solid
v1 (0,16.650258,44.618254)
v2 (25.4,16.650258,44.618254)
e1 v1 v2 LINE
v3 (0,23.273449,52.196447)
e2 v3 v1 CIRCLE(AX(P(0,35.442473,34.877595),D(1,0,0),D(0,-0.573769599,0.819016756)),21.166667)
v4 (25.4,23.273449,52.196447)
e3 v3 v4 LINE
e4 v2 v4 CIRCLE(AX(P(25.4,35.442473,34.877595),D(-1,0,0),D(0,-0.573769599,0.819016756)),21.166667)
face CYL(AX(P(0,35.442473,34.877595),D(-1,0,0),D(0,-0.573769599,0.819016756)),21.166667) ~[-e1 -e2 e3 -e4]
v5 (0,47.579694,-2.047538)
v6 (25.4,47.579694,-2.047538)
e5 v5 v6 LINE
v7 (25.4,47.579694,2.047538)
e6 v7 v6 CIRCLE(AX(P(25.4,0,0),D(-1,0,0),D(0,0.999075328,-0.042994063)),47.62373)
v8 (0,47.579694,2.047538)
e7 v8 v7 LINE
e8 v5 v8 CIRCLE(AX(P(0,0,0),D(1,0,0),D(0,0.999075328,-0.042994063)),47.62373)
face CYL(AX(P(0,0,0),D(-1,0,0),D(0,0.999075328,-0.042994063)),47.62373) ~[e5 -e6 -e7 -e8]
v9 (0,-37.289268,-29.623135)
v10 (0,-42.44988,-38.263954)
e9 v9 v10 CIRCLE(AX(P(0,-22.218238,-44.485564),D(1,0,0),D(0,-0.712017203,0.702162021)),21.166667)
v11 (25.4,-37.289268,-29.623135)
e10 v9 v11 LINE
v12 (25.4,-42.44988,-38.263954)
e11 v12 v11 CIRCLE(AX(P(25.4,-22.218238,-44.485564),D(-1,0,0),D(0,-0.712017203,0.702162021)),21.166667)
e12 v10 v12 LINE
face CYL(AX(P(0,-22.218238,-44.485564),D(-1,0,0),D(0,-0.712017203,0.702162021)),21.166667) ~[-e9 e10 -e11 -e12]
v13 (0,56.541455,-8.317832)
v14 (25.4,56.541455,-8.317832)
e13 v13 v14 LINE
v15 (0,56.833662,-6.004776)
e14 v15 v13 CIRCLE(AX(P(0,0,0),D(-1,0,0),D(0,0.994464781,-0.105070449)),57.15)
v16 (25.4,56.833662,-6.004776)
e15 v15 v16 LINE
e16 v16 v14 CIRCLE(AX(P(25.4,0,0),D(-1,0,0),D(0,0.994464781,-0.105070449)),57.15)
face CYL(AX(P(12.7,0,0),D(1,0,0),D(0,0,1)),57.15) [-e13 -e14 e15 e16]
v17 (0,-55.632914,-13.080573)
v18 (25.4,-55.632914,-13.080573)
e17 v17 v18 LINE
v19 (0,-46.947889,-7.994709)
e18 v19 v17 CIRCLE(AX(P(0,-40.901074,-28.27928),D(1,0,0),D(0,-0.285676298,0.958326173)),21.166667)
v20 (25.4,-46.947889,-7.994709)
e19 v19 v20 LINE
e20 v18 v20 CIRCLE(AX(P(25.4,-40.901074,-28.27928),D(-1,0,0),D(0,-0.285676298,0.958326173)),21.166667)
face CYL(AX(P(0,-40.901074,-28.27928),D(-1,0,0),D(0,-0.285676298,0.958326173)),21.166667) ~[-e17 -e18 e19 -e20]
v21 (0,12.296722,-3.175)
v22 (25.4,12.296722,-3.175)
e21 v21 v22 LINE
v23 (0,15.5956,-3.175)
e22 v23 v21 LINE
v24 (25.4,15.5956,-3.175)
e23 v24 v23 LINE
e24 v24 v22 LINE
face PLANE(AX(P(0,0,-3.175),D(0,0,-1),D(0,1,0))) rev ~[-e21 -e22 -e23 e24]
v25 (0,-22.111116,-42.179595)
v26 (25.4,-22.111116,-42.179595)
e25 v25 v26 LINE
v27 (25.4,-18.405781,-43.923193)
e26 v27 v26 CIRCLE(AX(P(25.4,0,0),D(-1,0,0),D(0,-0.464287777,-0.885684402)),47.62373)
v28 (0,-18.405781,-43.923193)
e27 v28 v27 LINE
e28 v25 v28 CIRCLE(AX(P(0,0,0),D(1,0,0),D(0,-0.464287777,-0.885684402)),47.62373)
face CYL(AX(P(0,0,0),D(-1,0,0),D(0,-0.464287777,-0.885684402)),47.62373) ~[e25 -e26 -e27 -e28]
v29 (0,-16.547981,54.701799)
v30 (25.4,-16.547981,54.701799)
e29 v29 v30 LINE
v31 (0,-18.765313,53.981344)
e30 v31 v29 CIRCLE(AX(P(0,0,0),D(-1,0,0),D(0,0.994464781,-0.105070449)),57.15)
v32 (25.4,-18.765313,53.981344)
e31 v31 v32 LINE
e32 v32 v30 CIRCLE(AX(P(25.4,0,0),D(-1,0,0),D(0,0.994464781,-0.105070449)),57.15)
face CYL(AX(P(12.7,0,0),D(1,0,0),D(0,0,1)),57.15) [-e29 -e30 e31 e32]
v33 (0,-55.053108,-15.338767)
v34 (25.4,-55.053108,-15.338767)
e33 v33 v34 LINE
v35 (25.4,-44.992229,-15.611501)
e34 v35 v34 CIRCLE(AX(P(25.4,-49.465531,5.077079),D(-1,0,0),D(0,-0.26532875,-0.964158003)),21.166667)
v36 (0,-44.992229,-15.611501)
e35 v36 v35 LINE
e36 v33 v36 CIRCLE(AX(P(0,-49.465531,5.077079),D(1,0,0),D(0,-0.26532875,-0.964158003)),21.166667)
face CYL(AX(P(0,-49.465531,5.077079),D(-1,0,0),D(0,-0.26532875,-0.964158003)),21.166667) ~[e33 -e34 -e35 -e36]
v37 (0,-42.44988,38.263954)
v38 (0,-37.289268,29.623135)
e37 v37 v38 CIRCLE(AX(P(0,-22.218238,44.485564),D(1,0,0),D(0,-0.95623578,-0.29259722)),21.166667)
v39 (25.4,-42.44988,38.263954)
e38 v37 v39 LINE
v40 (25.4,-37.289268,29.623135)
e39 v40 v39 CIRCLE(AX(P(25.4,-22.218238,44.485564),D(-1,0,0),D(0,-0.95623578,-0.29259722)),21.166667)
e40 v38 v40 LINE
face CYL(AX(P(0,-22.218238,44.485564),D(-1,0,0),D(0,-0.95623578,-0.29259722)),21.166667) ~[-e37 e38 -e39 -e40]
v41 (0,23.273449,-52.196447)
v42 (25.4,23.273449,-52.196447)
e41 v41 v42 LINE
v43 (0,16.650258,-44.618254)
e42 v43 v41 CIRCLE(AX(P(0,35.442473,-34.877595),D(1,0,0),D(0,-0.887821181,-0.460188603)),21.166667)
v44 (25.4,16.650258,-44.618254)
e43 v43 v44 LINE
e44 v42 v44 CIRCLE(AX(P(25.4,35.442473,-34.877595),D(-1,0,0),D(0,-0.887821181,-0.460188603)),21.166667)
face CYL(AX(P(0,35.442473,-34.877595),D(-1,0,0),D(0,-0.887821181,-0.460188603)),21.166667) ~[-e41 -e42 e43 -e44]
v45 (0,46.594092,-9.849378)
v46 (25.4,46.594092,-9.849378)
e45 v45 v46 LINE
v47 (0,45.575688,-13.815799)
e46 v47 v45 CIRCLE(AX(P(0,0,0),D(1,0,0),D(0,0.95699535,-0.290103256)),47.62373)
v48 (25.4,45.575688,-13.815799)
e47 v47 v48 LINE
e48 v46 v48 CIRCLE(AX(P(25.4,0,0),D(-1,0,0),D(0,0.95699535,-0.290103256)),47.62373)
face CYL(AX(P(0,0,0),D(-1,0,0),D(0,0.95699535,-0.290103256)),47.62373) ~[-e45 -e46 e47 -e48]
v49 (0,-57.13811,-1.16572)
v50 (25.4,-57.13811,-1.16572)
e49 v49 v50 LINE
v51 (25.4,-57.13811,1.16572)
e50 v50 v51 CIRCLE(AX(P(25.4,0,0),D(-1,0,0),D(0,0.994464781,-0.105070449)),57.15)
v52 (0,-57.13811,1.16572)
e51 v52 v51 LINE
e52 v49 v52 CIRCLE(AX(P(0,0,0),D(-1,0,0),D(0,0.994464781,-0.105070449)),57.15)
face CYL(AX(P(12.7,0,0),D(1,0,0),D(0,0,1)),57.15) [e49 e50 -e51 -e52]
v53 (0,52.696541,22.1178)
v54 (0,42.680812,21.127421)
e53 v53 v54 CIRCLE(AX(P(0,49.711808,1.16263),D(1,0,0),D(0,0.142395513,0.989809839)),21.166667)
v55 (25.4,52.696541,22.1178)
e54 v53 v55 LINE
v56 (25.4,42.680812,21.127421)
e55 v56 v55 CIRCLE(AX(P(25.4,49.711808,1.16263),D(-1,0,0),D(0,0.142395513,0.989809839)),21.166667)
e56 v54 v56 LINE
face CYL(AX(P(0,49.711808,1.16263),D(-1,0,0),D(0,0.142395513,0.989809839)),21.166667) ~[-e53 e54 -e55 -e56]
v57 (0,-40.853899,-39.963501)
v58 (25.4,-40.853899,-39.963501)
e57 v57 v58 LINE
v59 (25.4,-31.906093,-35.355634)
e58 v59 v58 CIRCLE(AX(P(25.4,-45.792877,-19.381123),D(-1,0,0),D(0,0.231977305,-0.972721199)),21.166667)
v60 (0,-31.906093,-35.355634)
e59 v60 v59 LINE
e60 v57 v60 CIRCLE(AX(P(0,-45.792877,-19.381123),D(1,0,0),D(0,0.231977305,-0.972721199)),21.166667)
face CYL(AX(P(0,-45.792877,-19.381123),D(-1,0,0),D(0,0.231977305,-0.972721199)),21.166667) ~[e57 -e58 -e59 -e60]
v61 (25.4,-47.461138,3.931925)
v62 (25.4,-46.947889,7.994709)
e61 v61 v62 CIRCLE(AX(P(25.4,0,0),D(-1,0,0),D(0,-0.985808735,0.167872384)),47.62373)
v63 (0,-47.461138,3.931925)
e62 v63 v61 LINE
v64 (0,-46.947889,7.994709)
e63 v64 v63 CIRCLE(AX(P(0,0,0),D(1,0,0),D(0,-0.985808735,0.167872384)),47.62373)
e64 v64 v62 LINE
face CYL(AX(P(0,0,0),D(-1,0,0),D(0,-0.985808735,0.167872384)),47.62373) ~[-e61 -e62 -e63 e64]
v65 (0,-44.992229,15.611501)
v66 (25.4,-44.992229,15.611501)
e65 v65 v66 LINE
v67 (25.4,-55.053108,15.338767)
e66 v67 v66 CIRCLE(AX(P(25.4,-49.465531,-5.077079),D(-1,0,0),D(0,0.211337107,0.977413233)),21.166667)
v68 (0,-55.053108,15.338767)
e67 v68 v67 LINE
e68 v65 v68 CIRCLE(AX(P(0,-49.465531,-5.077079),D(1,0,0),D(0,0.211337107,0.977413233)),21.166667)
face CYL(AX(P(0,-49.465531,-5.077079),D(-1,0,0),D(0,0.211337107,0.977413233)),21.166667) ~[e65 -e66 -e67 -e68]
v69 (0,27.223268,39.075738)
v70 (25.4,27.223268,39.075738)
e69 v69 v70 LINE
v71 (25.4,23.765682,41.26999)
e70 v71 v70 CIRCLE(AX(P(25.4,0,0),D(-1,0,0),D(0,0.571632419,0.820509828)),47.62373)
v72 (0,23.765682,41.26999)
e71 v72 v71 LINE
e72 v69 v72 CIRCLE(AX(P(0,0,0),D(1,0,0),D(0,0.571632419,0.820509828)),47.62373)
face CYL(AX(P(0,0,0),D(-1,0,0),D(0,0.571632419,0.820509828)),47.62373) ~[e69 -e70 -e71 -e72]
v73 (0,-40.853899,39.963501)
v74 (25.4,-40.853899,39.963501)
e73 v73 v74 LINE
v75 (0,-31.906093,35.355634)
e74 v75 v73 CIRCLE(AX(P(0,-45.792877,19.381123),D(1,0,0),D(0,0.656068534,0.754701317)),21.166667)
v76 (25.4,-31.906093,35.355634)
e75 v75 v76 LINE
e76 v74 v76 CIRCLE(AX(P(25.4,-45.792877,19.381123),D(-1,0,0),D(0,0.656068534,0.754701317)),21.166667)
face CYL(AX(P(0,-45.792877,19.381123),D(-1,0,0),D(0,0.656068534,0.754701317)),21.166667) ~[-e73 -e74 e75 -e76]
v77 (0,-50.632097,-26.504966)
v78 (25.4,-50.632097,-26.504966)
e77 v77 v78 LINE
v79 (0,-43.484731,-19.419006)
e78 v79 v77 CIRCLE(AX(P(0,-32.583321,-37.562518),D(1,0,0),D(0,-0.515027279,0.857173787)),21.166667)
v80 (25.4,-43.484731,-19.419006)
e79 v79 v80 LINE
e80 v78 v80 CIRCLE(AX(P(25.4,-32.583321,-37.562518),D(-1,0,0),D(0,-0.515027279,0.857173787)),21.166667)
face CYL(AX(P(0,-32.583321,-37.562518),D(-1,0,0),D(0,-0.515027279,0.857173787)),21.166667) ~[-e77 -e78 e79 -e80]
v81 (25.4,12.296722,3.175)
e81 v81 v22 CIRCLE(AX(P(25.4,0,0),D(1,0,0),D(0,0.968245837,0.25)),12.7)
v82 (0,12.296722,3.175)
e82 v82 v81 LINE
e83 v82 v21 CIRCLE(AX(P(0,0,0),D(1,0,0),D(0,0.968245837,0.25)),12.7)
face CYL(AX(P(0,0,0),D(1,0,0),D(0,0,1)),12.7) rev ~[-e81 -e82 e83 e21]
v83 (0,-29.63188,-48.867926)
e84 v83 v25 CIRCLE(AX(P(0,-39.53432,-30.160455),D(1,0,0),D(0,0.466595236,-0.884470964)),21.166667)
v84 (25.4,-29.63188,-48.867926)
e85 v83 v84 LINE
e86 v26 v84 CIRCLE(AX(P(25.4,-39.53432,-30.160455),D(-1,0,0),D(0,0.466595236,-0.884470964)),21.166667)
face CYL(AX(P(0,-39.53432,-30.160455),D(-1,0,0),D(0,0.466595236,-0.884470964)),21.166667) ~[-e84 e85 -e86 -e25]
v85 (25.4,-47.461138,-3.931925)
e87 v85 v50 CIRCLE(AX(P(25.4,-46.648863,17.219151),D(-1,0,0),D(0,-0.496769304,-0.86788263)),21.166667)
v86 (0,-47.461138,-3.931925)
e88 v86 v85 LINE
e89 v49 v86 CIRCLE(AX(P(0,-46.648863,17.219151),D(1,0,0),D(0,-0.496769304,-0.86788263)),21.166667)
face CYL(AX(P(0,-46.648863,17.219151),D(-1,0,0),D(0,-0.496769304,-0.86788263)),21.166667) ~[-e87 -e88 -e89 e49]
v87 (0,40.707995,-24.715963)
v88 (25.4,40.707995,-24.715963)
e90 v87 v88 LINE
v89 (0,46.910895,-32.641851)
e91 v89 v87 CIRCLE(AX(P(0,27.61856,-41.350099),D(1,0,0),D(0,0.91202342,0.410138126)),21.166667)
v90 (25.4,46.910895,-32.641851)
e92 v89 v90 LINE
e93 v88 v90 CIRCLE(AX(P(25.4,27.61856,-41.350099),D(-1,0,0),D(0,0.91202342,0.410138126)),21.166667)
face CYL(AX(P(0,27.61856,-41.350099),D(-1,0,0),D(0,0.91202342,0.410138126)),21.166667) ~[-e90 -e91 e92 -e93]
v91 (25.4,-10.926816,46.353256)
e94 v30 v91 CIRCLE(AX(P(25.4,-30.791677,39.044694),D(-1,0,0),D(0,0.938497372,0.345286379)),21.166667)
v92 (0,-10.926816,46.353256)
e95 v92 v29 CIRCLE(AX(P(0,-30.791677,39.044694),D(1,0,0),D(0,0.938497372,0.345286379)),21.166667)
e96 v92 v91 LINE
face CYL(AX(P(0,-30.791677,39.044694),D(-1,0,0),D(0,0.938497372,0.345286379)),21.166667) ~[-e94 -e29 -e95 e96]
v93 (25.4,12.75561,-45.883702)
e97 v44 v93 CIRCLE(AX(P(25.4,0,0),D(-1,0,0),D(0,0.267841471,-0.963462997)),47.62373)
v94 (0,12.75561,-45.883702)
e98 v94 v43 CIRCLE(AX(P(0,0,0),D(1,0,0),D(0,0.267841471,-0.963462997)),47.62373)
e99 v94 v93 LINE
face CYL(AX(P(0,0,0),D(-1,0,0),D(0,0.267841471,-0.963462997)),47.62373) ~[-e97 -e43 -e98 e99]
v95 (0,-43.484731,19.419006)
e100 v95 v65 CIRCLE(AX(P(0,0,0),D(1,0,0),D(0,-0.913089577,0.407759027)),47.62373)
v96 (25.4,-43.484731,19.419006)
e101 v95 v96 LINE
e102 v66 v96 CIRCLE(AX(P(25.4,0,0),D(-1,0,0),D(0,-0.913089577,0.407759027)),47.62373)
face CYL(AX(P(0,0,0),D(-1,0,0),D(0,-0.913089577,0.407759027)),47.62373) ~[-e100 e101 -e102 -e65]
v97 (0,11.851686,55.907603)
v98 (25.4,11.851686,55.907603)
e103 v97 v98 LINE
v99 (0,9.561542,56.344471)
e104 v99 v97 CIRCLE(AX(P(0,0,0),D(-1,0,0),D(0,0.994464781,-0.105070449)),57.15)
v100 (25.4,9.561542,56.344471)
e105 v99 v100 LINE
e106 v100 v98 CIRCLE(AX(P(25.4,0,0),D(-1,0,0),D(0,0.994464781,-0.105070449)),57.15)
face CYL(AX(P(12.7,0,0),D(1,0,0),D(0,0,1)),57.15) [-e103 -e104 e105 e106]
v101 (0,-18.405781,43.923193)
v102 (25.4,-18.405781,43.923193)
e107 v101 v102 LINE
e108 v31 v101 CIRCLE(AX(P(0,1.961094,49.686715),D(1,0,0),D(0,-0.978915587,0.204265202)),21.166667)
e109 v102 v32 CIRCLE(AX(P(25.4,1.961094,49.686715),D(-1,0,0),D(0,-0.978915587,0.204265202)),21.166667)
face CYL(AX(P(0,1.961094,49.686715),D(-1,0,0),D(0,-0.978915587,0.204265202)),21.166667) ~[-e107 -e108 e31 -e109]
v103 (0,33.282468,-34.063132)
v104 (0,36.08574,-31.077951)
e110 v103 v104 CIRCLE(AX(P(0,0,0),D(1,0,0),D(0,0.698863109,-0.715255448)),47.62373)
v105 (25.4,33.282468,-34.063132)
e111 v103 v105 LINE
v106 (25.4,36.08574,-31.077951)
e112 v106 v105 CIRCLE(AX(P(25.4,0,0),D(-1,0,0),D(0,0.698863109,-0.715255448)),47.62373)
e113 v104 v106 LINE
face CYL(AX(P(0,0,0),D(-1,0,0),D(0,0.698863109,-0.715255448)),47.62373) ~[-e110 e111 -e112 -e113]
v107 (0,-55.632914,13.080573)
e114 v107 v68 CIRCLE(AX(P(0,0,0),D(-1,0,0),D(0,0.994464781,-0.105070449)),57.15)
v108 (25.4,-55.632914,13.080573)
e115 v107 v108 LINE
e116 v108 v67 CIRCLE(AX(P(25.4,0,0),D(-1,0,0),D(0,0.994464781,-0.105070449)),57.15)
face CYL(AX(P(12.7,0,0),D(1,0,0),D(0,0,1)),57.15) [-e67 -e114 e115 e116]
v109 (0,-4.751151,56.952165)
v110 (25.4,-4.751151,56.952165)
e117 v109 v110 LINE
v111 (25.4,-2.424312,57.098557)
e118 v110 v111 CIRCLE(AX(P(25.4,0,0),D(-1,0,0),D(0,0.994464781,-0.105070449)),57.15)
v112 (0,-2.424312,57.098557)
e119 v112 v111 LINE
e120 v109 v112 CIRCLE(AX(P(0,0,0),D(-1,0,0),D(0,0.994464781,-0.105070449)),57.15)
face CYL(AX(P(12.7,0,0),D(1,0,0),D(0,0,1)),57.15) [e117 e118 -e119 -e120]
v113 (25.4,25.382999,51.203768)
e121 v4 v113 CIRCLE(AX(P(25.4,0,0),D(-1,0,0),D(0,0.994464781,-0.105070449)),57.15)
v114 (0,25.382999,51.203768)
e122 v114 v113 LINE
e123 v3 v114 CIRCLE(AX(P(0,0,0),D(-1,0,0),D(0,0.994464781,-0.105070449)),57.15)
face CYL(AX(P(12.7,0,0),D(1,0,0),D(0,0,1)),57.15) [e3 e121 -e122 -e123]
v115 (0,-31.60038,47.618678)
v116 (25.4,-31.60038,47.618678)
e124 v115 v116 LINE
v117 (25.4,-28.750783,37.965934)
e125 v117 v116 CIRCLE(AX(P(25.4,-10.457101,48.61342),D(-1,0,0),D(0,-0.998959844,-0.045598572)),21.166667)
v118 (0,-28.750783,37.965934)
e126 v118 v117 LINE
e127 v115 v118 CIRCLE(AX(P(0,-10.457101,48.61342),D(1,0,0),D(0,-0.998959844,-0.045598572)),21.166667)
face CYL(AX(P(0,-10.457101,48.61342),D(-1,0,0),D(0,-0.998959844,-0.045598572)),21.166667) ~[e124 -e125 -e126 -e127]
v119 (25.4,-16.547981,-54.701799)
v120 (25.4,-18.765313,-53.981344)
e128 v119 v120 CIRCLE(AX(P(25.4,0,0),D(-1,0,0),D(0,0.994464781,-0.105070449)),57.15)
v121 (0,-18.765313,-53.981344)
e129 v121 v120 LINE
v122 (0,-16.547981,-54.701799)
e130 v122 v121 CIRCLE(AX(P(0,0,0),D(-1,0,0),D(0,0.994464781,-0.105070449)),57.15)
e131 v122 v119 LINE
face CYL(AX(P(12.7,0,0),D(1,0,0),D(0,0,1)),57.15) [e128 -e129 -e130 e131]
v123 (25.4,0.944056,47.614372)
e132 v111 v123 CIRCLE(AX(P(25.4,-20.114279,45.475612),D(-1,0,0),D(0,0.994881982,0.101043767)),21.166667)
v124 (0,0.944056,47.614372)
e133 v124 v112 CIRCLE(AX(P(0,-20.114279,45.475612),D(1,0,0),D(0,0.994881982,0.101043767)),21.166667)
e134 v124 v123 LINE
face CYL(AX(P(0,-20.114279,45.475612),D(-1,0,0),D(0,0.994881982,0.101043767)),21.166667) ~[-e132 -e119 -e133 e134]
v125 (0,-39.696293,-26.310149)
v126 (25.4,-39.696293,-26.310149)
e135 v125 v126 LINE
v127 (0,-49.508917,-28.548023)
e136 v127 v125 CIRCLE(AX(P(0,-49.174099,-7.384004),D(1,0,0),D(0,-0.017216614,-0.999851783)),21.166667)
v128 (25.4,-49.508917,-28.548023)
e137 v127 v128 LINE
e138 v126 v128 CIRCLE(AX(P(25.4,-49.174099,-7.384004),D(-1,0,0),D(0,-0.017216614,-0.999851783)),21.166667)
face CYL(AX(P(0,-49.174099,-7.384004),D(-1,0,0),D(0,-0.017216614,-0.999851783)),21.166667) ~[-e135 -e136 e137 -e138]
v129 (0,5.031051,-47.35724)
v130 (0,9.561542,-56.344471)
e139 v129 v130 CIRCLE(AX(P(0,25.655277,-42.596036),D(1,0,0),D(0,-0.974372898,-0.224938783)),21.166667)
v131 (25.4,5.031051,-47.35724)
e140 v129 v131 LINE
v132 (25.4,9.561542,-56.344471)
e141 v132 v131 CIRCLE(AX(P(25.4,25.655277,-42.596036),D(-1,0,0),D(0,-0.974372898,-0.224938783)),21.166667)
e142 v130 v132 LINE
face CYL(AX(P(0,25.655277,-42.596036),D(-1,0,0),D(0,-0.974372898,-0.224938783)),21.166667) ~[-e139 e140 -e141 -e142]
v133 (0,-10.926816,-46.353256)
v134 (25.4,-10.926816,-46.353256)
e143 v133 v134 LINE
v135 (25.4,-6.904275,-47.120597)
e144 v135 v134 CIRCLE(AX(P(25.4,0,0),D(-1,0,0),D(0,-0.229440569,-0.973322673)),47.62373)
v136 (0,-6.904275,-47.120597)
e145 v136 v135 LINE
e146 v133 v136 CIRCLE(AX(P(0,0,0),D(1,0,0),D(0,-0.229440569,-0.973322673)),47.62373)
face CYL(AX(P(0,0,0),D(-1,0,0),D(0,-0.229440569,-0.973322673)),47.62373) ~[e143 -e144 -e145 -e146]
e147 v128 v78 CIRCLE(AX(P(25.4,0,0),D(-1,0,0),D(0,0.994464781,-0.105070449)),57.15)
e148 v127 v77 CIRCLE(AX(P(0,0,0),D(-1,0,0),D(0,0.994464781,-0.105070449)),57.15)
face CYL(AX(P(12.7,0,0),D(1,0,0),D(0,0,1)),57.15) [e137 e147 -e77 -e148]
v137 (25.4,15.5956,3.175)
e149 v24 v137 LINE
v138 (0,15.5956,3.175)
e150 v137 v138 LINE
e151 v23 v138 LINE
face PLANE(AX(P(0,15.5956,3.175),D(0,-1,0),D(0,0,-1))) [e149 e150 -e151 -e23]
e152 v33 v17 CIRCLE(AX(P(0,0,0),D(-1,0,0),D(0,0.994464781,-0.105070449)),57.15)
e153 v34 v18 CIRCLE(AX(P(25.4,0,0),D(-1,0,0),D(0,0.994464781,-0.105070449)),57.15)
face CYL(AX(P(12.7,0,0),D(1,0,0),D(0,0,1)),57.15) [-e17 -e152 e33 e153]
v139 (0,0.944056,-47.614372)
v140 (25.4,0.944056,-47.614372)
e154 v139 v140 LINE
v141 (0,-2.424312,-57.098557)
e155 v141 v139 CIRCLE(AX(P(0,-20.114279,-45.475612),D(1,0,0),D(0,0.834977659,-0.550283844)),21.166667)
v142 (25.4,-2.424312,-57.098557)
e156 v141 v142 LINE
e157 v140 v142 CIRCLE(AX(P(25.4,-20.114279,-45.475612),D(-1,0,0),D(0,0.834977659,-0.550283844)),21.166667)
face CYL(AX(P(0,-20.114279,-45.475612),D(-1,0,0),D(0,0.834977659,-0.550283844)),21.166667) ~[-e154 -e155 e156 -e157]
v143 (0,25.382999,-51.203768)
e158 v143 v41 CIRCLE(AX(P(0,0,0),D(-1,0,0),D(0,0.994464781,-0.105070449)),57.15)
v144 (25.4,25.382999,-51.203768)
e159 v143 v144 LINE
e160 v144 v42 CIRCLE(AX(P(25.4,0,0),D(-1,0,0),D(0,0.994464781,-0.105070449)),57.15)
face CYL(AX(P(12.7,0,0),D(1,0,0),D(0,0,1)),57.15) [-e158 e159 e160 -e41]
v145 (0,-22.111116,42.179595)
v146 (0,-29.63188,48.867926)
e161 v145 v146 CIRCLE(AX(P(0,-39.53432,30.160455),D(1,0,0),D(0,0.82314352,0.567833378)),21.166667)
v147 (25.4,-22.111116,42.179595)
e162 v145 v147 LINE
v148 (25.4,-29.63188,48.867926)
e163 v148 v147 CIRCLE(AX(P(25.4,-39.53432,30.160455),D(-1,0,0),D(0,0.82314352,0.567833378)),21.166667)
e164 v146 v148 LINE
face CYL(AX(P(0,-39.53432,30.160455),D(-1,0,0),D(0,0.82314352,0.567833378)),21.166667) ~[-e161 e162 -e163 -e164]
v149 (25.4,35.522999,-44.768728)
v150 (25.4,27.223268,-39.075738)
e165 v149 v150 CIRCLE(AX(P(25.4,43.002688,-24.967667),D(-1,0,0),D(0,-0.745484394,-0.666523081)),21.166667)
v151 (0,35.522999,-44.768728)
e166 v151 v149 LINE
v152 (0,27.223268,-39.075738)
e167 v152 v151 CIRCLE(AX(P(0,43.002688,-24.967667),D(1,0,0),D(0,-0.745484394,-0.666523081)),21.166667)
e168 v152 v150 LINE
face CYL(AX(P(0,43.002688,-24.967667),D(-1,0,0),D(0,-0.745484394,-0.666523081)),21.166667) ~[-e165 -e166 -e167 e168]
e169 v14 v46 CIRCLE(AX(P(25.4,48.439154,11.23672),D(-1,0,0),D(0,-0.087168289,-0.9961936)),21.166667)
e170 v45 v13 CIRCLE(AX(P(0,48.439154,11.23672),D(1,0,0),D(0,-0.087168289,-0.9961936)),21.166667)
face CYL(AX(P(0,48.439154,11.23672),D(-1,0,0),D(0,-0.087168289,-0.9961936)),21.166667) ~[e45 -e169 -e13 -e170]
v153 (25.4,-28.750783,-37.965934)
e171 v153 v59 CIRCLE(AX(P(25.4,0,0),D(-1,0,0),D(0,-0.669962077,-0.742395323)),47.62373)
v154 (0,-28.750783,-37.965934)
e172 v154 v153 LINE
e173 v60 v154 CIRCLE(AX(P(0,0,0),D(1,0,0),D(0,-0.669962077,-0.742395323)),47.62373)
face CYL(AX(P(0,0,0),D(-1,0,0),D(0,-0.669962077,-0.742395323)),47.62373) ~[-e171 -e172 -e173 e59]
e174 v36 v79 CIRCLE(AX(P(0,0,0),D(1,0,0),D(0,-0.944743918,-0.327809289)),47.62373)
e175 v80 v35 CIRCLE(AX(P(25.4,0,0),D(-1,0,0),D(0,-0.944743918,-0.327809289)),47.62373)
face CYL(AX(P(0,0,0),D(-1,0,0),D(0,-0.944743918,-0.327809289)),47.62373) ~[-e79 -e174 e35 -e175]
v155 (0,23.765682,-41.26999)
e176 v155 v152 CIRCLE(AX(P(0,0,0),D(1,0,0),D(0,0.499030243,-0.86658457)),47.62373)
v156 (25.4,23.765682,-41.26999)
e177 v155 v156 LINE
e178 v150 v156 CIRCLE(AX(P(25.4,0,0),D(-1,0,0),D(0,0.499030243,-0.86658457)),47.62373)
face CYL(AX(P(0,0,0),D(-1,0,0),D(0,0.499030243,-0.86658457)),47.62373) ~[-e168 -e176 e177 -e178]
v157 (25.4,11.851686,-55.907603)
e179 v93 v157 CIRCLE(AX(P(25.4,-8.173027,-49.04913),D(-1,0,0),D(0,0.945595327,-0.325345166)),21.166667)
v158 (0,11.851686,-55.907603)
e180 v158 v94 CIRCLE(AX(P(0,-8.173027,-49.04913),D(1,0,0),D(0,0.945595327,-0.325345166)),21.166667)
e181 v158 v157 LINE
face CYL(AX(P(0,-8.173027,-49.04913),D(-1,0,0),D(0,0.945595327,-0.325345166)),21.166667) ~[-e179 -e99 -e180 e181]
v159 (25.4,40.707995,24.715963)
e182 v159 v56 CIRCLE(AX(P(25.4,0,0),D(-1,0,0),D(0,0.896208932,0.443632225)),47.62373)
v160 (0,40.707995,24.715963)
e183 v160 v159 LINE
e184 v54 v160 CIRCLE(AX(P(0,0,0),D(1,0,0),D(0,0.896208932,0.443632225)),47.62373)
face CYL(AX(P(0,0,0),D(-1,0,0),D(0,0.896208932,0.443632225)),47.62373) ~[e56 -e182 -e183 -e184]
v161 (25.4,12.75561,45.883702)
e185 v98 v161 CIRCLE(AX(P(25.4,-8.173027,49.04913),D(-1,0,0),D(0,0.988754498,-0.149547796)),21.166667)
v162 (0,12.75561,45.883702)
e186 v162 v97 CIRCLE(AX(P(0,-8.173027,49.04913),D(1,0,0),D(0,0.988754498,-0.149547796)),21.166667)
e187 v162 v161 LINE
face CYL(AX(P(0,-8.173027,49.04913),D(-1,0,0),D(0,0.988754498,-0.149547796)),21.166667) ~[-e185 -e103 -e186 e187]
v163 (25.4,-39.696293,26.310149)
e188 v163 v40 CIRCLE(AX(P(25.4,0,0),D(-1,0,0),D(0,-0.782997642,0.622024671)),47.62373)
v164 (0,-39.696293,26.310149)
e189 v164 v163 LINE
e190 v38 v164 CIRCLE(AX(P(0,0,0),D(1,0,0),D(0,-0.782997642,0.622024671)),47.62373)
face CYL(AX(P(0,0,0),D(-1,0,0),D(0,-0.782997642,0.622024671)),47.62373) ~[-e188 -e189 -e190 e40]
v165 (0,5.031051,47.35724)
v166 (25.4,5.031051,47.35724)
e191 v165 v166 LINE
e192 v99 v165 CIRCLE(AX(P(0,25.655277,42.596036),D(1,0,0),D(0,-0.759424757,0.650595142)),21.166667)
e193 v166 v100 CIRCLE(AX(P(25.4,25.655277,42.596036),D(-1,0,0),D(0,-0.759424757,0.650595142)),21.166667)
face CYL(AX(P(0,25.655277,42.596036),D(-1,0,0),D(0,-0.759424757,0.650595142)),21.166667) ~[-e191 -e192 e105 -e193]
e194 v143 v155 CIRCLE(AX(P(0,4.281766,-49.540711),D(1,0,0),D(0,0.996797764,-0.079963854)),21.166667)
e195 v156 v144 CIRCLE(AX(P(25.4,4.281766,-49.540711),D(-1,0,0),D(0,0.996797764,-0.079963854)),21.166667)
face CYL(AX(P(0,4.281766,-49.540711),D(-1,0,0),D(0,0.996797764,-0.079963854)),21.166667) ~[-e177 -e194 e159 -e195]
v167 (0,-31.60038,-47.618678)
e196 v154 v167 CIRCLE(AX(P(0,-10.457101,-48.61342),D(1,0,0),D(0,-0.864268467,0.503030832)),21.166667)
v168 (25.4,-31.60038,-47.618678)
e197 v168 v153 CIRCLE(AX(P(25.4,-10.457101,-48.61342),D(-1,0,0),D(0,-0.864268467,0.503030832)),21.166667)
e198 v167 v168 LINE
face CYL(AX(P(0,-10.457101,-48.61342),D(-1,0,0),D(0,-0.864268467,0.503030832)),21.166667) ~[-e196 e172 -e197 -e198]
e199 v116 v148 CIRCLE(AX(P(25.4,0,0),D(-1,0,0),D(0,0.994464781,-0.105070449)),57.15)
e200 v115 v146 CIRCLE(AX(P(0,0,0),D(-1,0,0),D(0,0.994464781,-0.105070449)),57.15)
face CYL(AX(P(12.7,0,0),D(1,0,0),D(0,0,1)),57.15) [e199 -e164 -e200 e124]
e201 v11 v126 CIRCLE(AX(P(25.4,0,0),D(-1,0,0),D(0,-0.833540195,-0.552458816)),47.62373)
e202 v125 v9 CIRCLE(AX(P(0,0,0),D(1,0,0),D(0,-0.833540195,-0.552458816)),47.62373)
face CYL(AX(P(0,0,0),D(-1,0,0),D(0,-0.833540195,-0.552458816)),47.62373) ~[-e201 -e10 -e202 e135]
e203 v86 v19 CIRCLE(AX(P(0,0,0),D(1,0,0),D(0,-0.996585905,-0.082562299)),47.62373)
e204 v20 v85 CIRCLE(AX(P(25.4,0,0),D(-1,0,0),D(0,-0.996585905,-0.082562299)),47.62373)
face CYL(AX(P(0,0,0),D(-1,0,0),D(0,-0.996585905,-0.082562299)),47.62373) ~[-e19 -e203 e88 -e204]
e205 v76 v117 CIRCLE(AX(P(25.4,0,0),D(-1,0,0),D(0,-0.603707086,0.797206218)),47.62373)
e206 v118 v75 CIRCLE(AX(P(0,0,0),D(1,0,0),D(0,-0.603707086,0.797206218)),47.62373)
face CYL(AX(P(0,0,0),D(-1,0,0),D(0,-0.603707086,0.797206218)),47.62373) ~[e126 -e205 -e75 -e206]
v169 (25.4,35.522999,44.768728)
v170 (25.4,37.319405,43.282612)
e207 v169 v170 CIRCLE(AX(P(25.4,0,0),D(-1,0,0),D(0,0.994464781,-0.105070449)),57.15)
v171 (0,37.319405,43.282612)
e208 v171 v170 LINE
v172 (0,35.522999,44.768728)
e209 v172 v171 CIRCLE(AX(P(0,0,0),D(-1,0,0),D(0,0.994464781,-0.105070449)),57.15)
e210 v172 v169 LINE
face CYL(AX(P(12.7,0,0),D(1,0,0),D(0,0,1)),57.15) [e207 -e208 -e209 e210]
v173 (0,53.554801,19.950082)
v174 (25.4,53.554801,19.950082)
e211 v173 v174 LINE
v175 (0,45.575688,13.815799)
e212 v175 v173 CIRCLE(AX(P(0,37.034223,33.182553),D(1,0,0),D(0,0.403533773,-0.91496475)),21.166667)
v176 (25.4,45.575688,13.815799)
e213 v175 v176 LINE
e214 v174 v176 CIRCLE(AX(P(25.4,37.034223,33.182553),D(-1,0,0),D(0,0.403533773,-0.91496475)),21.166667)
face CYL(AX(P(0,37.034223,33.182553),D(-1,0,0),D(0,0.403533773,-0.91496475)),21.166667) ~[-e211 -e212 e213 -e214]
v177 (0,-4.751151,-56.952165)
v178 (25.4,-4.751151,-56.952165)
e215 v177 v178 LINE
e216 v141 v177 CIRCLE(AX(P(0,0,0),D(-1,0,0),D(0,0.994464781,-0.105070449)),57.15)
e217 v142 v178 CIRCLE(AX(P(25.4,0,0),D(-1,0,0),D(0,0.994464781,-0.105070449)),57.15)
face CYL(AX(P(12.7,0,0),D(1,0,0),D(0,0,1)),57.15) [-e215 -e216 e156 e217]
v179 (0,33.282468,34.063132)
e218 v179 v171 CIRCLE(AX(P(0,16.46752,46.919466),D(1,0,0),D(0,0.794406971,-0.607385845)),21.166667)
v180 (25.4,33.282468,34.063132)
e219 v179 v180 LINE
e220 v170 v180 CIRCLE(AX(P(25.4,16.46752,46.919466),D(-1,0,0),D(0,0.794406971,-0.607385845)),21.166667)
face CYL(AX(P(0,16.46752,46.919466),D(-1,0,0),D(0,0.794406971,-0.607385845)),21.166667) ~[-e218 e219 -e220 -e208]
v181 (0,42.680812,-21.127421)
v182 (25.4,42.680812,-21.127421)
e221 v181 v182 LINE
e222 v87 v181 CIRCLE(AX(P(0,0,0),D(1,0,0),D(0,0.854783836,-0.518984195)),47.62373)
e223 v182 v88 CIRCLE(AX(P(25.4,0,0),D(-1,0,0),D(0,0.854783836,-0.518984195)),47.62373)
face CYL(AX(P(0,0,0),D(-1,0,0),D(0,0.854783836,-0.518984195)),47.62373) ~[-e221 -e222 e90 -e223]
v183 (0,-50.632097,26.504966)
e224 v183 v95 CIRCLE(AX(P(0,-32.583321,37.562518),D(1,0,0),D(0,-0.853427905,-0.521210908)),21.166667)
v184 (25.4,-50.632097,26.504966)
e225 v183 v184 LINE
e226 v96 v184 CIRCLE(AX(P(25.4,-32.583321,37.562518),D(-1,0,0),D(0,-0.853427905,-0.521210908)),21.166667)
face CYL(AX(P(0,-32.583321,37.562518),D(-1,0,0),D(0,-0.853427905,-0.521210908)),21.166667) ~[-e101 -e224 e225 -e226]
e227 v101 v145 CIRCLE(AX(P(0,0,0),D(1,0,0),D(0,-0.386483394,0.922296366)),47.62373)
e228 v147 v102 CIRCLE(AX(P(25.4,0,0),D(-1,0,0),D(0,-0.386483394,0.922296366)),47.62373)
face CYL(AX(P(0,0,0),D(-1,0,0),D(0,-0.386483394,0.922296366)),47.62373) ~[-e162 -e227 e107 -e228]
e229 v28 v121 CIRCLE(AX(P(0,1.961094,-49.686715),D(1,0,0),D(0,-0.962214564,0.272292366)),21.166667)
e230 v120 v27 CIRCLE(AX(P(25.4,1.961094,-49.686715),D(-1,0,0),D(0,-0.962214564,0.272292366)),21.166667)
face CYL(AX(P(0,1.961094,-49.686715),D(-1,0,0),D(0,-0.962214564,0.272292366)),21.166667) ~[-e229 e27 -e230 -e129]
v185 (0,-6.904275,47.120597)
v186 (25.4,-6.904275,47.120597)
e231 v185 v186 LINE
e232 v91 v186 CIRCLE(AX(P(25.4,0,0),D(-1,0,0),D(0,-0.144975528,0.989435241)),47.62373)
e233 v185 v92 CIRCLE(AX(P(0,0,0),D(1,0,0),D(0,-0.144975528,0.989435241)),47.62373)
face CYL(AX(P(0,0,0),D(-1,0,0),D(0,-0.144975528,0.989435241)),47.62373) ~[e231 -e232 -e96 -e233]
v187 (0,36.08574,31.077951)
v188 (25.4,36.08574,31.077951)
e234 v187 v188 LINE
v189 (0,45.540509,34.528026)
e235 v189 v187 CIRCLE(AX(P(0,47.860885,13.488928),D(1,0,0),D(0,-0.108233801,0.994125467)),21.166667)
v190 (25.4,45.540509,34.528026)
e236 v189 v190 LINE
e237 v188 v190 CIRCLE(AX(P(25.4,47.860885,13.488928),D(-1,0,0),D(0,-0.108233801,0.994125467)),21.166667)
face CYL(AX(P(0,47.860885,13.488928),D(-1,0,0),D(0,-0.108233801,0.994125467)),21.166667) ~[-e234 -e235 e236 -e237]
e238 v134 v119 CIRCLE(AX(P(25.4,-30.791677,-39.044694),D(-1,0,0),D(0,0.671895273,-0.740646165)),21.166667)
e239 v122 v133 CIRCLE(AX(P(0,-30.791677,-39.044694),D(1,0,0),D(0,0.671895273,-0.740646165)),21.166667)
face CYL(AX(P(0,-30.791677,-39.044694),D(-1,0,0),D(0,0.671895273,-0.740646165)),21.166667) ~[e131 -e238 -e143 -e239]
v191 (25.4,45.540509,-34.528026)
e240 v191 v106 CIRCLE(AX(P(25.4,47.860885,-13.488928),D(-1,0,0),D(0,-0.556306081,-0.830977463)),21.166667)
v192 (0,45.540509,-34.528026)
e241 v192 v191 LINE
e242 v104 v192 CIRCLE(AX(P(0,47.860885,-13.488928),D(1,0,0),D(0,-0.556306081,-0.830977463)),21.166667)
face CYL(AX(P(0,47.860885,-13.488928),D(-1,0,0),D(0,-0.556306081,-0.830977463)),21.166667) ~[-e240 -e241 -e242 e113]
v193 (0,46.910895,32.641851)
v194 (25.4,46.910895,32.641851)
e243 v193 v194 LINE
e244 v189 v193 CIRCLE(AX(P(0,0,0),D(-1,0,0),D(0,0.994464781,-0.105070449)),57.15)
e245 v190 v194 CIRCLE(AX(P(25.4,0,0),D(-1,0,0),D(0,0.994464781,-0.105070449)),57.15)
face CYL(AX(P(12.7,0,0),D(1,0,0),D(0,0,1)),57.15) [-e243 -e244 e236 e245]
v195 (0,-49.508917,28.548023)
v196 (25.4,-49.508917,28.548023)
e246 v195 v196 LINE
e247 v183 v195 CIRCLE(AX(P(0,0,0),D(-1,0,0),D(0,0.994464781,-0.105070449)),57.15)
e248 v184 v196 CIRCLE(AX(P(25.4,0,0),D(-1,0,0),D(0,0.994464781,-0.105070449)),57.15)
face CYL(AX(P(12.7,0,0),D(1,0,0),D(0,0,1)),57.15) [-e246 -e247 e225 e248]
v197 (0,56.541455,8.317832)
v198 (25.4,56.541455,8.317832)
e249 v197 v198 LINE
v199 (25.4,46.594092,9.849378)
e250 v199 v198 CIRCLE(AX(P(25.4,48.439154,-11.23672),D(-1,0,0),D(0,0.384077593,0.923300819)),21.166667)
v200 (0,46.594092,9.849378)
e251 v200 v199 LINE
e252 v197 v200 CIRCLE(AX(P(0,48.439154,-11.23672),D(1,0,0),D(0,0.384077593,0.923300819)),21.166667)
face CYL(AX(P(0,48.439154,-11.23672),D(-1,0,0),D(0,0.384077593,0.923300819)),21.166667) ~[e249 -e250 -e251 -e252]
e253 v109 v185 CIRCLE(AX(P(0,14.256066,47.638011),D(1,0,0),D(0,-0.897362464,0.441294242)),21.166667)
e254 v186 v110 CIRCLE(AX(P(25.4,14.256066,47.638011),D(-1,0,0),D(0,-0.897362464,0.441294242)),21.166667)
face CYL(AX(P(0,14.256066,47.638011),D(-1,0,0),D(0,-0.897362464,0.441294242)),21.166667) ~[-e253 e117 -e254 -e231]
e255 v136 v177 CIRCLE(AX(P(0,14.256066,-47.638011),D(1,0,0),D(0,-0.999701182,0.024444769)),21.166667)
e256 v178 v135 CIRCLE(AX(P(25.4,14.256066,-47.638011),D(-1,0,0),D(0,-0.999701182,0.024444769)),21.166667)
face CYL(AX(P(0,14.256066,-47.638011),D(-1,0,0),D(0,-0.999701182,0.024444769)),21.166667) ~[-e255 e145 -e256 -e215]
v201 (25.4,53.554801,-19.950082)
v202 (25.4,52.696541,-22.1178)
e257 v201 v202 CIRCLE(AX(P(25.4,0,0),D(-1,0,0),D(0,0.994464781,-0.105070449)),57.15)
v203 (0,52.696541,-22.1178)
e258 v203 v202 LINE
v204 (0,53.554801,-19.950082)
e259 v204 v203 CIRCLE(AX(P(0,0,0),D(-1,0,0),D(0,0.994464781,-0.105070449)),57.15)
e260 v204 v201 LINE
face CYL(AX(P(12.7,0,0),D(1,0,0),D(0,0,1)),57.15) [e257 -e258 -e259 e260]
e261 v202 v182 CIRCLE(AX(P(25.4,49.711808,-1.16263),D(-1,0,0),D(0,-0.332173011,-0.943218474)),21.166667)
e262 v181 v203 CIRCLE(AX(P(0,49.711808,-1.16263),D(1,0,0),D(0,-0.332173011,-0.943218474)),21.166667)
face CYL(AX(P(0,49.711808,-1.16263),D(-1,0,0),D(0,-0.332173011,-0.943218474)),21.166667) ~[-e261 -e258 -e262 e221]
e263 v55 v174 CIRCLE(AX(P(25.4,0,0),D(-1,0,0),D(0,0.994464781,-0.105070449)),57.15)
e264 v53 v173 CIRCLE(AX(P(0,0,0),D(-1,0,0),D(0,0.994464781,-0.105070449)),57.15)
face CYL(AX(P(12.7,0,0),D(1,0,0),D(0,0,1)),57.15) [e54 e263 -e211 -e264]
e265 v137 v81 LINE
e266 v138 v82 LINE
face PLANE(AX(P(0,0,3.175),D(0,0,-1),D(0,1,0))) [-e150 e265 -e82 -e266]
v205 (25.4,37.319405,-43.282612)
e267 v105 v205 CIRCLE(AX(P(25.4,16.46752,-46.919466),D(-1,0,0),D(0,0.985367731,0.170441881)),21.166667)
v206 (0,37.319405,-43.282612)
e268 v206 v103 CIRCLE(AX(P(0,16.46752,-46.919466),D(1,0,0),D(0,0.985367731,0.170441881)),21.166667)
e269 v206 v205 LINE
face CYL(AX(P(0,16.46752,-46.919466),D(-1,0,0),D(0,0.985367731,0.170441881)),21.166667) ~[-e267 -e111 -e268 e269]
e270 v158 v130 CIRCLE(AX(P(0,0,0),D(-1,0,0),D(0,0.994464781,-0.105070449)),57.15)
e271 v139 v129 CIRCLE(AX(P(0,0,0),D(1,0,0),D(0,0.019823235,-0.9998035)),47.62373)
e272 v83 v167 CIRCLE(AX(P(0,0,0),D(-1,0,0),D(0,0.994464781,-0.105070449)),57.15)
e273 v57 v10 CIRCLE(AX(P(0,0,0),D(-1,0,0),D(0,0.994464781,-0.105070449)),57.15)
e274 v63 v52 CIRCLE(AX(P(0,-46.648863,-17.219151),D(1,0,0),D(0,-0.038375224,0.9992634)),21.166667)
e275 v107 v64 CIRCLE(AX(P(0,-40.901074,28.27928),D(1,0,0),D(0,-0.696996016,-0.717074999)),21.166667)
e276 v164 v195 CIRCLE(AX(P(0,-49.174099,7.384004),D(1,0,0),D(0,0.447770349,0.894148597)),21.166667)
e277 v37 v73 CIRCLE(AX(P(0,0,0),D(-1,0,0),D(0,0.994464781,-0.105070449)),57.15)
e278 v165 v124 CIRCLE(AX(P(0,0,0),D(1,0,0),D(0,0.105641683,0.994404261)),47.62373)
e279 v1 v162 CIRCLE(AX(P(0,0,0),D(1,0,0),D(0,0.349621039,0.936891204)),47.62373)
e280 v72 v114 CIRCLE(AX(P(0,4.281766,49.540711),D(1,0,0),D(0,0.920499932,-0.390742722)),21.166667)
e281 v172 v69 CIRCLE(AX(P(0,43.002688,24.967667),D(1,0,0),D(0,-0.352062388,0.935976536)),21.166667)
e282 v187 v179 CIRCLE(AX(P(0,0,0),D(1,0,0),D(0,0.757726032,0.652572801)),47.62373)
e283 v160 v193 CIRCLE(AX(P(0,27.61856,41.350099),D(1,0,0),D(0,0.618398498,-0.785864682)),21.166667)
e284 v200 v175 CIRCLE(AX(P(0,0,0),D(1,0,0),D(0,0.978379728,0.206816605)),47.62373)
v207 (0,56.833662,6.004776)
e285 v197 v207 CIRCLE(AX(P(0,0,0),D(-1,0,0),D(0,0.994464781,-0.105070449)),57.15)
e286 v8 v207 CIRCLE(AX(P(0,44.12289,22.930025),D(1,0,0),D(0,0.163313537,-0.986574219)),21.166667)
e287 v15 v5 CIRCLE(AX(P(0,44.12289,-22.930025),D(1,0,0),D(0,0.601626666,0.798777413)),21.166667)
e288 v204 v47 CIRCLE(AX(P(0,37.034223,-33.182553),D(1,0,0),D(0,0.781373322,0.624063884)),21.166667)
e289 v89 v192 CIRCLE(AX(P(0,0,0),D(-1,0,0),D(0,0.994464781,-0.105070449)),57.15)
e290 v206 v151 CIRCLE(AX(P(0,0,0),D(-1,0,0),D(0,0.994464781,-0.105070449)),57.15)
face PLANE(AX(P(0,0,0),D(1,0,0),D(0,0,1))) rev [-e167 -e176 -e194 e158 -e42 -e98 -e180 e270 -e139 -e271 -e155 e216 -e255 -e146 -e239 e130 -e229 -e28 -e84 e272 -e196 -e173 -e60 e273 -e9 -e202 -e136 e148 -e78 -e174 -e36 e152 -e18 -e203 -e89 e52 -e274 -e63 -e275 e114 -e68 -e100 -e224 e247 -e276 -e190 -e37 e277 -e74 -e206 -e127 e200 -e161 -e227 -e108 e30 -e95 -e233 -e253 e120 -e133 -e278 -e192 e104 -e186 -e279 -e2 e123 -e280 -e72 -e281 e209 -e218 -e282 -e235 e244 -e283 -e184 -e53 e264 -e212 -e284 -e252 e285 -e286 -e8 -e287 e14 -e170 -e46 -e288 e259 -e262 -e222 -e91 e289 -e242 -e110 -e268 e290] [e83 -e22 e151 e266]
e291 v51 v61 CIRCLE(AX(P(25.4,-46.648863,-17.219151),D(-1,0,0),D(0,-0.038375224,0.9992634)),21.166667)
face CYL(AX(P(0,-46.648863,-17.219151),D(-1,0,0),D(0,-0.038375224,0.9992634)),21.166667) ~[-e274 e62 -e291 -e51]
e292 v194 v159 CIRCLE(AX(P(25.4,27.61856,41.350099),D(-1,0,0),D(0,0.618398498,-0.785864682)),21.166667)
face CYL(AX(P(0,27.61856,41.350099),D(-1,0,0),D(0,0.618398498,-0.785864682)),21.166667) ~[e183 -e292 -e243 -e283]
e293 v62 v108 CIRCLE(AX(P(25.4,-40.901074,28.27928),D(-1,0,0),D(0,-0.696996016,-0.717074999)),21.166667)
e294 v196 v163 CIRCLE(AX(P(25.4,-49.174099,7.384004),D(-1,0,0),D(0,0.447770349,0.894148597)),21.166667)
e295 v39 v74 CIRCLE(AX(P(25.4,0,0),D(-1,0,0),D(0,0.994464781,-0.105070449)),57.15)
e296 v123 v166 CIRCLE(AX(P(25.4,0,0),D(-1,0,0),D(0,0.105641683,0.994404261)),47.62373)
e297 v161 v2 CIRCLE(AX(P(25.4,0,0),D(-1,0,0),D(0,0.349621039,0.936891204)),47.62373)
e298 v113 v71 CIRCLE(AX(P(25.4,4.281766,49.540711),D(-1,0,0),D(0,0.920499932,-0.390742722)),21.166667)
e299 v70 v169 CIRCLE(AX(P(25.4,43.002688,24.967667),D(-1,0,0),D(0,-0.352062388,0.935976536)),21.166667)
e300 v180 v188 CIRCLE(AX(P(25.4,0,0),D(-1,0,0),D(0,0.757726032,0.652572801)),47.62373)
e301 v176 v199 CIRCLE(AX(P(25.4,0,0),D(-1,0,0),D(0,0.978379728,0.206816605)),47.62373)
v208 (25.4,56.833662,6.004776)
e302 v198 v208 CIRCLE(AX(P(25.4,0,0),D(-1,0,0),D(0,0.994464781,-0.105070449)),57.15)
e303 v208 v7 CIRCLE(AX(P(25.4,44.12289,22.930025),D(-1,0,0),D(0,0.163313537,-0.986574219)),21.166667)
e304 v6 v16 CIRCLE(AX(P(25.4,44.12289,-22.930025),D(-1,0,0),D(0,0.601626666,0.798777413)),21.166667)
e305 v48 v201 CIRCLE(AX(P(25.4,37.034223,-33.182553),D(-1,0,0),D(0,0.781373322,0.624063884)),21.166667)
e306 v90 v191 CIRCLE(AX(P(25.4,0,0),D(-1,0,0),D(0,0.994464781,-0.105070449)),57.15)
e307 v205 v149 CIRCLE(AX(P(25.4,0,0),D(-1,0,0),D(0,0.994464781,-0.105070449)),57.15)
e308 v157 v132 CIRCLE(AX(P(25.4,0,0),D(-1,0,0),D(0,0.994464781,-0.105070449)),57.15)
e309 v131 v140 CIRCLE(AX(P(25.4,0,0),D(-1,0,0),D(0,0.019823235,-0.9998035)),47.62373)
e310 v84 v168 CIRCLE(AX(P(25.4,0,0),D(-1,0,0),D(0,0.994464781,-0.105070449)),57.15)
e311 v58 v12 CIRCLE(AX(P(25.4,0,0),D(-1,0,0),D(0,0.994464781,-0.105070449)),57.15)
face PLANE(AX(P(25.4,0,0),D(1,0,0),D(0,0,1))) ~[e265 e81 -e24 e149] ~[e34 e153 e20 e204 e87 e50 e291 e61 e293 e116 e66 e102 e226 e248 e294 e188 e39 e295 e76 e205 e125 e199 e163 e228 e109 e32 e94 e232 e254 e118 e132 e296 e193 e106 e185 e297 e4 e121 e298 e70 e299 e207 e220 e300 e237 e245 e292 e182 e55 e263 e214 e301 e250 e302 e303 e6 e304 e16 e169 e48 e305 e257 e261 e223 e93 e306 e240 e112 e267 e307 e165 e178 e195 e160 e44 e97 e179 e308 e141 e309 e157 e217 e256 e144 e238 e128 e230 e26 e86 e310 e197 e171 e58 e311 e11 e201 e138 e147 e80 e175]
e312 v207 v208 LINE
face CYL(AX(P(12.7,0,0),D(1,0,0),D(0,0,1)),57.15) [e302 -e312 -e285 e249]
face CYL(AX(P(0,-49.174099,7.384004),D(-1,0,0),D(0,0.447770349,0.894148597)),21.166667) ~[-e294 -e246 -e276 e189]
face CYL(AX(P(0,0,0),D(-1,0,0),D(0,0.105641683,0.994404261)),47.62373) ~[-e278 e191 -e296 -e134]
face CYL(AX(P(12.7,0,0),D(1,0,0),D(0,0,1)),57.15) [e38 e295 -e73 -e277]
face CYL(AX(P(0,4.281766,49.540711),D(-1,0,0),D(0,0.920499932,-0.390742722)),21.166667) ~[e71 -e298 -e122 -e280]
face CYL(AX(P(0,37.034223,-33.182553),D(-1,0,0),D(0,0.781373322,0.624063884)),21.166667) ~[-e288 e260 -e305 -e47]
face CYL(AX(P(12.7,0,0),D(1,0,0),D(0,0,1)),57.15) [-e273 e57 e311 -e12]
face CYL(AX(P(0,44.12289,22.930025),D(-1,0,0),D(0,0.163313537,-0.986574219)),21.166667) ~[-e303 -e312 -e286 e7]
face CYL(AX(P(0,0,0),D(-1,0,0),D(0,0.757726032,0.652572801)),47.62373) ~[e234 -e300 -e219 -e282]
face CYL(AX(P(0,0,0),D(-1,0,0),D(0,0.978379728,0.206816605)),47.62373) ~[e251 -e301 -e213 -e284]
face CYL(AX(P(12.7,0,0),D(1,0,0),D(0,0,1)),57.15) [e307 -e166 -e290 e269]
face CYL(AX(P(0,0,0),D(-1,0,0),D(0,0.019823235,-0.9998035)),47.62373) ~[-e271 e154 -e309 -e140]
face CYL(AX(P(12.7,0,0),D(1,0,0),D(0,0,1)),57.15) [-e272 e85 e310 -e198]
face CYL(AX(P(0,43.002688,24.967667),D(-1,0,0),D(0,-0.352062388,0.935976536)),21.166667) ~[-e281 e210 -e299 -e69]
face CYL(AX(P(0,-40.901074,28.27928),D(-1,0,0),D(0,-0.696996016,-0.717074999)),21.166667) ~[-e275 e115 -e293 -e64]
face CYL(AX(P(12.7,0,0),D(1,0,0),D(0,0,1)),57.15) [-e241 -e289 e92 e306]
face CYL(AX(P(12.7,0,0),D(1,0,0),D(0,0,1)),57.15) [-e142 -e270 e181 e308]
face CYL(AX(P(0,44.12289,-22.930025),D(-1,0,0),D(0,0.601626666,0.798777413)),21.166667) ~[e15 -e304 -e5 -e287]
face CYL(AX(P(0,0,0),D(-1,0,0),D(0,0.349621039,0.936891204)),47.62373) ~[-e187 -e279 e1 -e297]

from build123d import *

# Parameters (mm, degrees)
BASPROSKE_W     = 25.4
BASPROSKE_H     = 57.15
TOOTHCUT_DEPTH  = 85.719566807
TEETHCUTS_COUNT = 25
TEETHCUTS_ANGLE = 345.6
BORSKE_R        = 12.7
BORE_DEPTH      = 50.8000508
KEYSKE_W        = 6.35
KEYSKE_H        = 15.5956
KEYWAY_DEPTH    = 50.8000508


with BuildPart() as part:
    # BasProSke → Base-Revolve (revolve)
    with BuildSketch(Plane(origin=(0, 0, 0), x_dir=(1, 0, 0), z_dir=(0, 1, 0)), mode=Mode.PRIVATE) as base_revolve_sk:
        with Locations((12.7, 28.575)):
            Rectangle(BASPROSKE_W, BASPROSKE_H)
    revolve(base_revolve_sk.sketch.rotate(Axis((-10, 0, 0), (1, 0, 0)), 180), axis=Axis((-10, 0, 0), (1, 0, 0)))

    # TooCutSke → ToothCut (cut, through all)
    with BuildSketch(Plane(origin=(0, 0, 0), x_dir=(0, 0, -1), z_dir=(1, 0, 0))):
        with BuildLine():
            ThreePointArc((2.047537683, 47.579693658), (0, 47.62373), (-2.047537683, 47.579693658))
            ThreePointArc((-2.047537683, 47.579693658), (-3.473958384, 52.458910952), (-6.022570076, 56.857321559))
            ThreePointArc((-6.022570076, 56.857321559), (0, 57.1754), (6.022570076, 56.857321559))
            ThreePointArc((6.022570076, 56.857321559), (3.473958384, 52.458910952), (2.047537683, 47.579693658))
        make_face()
    toothcut = extrude(amount=TOOTHCUT_DEPTH, mode=Mode.SUBTRACT)

    # TeethCuts: ToothCut ×25 about axis
    teethcuts_axis = Axis((-10, 0, 0), (1, 0, 0))
    for i in range(1, TEETHCUTS_COUNT):
        add(toothcut.rotate(teethcuts_axis, i * TEETHCUTS_ANGLE / (TEETHCUTS_COUNT - 1)), mode=Mode.SUBTRACT)

    # BorSke → Bore (cut, symmetric)
    with BuildSketch(Plane(origin=(0, 0, 0), x_dir=(0, 0, -1), z_dir=(1, 0, 0))):
        with Locations(Location((0, 0, 0), (0, 0, 180))):
            Circle(BORSKE_R)
    extrude(amount=BORE_DEPTH, both=True, mode=Mode.SUBTRACT)

    # KeySke → Keyway (cut, symmetric)
    with BuildSketch(Plane(origin=(0, 0, 0), x_dir=(0, 0, -1), z_dir=(1, 0, 0))):
        with Locations((0, 7.7978)):
            Rectangle(KEYSKE_W, KEYSKE_H)
    extrude(amount=KEYWAY_DEPTH, both=True, mode=Mode.SUBTRACT)


solid = part.part
